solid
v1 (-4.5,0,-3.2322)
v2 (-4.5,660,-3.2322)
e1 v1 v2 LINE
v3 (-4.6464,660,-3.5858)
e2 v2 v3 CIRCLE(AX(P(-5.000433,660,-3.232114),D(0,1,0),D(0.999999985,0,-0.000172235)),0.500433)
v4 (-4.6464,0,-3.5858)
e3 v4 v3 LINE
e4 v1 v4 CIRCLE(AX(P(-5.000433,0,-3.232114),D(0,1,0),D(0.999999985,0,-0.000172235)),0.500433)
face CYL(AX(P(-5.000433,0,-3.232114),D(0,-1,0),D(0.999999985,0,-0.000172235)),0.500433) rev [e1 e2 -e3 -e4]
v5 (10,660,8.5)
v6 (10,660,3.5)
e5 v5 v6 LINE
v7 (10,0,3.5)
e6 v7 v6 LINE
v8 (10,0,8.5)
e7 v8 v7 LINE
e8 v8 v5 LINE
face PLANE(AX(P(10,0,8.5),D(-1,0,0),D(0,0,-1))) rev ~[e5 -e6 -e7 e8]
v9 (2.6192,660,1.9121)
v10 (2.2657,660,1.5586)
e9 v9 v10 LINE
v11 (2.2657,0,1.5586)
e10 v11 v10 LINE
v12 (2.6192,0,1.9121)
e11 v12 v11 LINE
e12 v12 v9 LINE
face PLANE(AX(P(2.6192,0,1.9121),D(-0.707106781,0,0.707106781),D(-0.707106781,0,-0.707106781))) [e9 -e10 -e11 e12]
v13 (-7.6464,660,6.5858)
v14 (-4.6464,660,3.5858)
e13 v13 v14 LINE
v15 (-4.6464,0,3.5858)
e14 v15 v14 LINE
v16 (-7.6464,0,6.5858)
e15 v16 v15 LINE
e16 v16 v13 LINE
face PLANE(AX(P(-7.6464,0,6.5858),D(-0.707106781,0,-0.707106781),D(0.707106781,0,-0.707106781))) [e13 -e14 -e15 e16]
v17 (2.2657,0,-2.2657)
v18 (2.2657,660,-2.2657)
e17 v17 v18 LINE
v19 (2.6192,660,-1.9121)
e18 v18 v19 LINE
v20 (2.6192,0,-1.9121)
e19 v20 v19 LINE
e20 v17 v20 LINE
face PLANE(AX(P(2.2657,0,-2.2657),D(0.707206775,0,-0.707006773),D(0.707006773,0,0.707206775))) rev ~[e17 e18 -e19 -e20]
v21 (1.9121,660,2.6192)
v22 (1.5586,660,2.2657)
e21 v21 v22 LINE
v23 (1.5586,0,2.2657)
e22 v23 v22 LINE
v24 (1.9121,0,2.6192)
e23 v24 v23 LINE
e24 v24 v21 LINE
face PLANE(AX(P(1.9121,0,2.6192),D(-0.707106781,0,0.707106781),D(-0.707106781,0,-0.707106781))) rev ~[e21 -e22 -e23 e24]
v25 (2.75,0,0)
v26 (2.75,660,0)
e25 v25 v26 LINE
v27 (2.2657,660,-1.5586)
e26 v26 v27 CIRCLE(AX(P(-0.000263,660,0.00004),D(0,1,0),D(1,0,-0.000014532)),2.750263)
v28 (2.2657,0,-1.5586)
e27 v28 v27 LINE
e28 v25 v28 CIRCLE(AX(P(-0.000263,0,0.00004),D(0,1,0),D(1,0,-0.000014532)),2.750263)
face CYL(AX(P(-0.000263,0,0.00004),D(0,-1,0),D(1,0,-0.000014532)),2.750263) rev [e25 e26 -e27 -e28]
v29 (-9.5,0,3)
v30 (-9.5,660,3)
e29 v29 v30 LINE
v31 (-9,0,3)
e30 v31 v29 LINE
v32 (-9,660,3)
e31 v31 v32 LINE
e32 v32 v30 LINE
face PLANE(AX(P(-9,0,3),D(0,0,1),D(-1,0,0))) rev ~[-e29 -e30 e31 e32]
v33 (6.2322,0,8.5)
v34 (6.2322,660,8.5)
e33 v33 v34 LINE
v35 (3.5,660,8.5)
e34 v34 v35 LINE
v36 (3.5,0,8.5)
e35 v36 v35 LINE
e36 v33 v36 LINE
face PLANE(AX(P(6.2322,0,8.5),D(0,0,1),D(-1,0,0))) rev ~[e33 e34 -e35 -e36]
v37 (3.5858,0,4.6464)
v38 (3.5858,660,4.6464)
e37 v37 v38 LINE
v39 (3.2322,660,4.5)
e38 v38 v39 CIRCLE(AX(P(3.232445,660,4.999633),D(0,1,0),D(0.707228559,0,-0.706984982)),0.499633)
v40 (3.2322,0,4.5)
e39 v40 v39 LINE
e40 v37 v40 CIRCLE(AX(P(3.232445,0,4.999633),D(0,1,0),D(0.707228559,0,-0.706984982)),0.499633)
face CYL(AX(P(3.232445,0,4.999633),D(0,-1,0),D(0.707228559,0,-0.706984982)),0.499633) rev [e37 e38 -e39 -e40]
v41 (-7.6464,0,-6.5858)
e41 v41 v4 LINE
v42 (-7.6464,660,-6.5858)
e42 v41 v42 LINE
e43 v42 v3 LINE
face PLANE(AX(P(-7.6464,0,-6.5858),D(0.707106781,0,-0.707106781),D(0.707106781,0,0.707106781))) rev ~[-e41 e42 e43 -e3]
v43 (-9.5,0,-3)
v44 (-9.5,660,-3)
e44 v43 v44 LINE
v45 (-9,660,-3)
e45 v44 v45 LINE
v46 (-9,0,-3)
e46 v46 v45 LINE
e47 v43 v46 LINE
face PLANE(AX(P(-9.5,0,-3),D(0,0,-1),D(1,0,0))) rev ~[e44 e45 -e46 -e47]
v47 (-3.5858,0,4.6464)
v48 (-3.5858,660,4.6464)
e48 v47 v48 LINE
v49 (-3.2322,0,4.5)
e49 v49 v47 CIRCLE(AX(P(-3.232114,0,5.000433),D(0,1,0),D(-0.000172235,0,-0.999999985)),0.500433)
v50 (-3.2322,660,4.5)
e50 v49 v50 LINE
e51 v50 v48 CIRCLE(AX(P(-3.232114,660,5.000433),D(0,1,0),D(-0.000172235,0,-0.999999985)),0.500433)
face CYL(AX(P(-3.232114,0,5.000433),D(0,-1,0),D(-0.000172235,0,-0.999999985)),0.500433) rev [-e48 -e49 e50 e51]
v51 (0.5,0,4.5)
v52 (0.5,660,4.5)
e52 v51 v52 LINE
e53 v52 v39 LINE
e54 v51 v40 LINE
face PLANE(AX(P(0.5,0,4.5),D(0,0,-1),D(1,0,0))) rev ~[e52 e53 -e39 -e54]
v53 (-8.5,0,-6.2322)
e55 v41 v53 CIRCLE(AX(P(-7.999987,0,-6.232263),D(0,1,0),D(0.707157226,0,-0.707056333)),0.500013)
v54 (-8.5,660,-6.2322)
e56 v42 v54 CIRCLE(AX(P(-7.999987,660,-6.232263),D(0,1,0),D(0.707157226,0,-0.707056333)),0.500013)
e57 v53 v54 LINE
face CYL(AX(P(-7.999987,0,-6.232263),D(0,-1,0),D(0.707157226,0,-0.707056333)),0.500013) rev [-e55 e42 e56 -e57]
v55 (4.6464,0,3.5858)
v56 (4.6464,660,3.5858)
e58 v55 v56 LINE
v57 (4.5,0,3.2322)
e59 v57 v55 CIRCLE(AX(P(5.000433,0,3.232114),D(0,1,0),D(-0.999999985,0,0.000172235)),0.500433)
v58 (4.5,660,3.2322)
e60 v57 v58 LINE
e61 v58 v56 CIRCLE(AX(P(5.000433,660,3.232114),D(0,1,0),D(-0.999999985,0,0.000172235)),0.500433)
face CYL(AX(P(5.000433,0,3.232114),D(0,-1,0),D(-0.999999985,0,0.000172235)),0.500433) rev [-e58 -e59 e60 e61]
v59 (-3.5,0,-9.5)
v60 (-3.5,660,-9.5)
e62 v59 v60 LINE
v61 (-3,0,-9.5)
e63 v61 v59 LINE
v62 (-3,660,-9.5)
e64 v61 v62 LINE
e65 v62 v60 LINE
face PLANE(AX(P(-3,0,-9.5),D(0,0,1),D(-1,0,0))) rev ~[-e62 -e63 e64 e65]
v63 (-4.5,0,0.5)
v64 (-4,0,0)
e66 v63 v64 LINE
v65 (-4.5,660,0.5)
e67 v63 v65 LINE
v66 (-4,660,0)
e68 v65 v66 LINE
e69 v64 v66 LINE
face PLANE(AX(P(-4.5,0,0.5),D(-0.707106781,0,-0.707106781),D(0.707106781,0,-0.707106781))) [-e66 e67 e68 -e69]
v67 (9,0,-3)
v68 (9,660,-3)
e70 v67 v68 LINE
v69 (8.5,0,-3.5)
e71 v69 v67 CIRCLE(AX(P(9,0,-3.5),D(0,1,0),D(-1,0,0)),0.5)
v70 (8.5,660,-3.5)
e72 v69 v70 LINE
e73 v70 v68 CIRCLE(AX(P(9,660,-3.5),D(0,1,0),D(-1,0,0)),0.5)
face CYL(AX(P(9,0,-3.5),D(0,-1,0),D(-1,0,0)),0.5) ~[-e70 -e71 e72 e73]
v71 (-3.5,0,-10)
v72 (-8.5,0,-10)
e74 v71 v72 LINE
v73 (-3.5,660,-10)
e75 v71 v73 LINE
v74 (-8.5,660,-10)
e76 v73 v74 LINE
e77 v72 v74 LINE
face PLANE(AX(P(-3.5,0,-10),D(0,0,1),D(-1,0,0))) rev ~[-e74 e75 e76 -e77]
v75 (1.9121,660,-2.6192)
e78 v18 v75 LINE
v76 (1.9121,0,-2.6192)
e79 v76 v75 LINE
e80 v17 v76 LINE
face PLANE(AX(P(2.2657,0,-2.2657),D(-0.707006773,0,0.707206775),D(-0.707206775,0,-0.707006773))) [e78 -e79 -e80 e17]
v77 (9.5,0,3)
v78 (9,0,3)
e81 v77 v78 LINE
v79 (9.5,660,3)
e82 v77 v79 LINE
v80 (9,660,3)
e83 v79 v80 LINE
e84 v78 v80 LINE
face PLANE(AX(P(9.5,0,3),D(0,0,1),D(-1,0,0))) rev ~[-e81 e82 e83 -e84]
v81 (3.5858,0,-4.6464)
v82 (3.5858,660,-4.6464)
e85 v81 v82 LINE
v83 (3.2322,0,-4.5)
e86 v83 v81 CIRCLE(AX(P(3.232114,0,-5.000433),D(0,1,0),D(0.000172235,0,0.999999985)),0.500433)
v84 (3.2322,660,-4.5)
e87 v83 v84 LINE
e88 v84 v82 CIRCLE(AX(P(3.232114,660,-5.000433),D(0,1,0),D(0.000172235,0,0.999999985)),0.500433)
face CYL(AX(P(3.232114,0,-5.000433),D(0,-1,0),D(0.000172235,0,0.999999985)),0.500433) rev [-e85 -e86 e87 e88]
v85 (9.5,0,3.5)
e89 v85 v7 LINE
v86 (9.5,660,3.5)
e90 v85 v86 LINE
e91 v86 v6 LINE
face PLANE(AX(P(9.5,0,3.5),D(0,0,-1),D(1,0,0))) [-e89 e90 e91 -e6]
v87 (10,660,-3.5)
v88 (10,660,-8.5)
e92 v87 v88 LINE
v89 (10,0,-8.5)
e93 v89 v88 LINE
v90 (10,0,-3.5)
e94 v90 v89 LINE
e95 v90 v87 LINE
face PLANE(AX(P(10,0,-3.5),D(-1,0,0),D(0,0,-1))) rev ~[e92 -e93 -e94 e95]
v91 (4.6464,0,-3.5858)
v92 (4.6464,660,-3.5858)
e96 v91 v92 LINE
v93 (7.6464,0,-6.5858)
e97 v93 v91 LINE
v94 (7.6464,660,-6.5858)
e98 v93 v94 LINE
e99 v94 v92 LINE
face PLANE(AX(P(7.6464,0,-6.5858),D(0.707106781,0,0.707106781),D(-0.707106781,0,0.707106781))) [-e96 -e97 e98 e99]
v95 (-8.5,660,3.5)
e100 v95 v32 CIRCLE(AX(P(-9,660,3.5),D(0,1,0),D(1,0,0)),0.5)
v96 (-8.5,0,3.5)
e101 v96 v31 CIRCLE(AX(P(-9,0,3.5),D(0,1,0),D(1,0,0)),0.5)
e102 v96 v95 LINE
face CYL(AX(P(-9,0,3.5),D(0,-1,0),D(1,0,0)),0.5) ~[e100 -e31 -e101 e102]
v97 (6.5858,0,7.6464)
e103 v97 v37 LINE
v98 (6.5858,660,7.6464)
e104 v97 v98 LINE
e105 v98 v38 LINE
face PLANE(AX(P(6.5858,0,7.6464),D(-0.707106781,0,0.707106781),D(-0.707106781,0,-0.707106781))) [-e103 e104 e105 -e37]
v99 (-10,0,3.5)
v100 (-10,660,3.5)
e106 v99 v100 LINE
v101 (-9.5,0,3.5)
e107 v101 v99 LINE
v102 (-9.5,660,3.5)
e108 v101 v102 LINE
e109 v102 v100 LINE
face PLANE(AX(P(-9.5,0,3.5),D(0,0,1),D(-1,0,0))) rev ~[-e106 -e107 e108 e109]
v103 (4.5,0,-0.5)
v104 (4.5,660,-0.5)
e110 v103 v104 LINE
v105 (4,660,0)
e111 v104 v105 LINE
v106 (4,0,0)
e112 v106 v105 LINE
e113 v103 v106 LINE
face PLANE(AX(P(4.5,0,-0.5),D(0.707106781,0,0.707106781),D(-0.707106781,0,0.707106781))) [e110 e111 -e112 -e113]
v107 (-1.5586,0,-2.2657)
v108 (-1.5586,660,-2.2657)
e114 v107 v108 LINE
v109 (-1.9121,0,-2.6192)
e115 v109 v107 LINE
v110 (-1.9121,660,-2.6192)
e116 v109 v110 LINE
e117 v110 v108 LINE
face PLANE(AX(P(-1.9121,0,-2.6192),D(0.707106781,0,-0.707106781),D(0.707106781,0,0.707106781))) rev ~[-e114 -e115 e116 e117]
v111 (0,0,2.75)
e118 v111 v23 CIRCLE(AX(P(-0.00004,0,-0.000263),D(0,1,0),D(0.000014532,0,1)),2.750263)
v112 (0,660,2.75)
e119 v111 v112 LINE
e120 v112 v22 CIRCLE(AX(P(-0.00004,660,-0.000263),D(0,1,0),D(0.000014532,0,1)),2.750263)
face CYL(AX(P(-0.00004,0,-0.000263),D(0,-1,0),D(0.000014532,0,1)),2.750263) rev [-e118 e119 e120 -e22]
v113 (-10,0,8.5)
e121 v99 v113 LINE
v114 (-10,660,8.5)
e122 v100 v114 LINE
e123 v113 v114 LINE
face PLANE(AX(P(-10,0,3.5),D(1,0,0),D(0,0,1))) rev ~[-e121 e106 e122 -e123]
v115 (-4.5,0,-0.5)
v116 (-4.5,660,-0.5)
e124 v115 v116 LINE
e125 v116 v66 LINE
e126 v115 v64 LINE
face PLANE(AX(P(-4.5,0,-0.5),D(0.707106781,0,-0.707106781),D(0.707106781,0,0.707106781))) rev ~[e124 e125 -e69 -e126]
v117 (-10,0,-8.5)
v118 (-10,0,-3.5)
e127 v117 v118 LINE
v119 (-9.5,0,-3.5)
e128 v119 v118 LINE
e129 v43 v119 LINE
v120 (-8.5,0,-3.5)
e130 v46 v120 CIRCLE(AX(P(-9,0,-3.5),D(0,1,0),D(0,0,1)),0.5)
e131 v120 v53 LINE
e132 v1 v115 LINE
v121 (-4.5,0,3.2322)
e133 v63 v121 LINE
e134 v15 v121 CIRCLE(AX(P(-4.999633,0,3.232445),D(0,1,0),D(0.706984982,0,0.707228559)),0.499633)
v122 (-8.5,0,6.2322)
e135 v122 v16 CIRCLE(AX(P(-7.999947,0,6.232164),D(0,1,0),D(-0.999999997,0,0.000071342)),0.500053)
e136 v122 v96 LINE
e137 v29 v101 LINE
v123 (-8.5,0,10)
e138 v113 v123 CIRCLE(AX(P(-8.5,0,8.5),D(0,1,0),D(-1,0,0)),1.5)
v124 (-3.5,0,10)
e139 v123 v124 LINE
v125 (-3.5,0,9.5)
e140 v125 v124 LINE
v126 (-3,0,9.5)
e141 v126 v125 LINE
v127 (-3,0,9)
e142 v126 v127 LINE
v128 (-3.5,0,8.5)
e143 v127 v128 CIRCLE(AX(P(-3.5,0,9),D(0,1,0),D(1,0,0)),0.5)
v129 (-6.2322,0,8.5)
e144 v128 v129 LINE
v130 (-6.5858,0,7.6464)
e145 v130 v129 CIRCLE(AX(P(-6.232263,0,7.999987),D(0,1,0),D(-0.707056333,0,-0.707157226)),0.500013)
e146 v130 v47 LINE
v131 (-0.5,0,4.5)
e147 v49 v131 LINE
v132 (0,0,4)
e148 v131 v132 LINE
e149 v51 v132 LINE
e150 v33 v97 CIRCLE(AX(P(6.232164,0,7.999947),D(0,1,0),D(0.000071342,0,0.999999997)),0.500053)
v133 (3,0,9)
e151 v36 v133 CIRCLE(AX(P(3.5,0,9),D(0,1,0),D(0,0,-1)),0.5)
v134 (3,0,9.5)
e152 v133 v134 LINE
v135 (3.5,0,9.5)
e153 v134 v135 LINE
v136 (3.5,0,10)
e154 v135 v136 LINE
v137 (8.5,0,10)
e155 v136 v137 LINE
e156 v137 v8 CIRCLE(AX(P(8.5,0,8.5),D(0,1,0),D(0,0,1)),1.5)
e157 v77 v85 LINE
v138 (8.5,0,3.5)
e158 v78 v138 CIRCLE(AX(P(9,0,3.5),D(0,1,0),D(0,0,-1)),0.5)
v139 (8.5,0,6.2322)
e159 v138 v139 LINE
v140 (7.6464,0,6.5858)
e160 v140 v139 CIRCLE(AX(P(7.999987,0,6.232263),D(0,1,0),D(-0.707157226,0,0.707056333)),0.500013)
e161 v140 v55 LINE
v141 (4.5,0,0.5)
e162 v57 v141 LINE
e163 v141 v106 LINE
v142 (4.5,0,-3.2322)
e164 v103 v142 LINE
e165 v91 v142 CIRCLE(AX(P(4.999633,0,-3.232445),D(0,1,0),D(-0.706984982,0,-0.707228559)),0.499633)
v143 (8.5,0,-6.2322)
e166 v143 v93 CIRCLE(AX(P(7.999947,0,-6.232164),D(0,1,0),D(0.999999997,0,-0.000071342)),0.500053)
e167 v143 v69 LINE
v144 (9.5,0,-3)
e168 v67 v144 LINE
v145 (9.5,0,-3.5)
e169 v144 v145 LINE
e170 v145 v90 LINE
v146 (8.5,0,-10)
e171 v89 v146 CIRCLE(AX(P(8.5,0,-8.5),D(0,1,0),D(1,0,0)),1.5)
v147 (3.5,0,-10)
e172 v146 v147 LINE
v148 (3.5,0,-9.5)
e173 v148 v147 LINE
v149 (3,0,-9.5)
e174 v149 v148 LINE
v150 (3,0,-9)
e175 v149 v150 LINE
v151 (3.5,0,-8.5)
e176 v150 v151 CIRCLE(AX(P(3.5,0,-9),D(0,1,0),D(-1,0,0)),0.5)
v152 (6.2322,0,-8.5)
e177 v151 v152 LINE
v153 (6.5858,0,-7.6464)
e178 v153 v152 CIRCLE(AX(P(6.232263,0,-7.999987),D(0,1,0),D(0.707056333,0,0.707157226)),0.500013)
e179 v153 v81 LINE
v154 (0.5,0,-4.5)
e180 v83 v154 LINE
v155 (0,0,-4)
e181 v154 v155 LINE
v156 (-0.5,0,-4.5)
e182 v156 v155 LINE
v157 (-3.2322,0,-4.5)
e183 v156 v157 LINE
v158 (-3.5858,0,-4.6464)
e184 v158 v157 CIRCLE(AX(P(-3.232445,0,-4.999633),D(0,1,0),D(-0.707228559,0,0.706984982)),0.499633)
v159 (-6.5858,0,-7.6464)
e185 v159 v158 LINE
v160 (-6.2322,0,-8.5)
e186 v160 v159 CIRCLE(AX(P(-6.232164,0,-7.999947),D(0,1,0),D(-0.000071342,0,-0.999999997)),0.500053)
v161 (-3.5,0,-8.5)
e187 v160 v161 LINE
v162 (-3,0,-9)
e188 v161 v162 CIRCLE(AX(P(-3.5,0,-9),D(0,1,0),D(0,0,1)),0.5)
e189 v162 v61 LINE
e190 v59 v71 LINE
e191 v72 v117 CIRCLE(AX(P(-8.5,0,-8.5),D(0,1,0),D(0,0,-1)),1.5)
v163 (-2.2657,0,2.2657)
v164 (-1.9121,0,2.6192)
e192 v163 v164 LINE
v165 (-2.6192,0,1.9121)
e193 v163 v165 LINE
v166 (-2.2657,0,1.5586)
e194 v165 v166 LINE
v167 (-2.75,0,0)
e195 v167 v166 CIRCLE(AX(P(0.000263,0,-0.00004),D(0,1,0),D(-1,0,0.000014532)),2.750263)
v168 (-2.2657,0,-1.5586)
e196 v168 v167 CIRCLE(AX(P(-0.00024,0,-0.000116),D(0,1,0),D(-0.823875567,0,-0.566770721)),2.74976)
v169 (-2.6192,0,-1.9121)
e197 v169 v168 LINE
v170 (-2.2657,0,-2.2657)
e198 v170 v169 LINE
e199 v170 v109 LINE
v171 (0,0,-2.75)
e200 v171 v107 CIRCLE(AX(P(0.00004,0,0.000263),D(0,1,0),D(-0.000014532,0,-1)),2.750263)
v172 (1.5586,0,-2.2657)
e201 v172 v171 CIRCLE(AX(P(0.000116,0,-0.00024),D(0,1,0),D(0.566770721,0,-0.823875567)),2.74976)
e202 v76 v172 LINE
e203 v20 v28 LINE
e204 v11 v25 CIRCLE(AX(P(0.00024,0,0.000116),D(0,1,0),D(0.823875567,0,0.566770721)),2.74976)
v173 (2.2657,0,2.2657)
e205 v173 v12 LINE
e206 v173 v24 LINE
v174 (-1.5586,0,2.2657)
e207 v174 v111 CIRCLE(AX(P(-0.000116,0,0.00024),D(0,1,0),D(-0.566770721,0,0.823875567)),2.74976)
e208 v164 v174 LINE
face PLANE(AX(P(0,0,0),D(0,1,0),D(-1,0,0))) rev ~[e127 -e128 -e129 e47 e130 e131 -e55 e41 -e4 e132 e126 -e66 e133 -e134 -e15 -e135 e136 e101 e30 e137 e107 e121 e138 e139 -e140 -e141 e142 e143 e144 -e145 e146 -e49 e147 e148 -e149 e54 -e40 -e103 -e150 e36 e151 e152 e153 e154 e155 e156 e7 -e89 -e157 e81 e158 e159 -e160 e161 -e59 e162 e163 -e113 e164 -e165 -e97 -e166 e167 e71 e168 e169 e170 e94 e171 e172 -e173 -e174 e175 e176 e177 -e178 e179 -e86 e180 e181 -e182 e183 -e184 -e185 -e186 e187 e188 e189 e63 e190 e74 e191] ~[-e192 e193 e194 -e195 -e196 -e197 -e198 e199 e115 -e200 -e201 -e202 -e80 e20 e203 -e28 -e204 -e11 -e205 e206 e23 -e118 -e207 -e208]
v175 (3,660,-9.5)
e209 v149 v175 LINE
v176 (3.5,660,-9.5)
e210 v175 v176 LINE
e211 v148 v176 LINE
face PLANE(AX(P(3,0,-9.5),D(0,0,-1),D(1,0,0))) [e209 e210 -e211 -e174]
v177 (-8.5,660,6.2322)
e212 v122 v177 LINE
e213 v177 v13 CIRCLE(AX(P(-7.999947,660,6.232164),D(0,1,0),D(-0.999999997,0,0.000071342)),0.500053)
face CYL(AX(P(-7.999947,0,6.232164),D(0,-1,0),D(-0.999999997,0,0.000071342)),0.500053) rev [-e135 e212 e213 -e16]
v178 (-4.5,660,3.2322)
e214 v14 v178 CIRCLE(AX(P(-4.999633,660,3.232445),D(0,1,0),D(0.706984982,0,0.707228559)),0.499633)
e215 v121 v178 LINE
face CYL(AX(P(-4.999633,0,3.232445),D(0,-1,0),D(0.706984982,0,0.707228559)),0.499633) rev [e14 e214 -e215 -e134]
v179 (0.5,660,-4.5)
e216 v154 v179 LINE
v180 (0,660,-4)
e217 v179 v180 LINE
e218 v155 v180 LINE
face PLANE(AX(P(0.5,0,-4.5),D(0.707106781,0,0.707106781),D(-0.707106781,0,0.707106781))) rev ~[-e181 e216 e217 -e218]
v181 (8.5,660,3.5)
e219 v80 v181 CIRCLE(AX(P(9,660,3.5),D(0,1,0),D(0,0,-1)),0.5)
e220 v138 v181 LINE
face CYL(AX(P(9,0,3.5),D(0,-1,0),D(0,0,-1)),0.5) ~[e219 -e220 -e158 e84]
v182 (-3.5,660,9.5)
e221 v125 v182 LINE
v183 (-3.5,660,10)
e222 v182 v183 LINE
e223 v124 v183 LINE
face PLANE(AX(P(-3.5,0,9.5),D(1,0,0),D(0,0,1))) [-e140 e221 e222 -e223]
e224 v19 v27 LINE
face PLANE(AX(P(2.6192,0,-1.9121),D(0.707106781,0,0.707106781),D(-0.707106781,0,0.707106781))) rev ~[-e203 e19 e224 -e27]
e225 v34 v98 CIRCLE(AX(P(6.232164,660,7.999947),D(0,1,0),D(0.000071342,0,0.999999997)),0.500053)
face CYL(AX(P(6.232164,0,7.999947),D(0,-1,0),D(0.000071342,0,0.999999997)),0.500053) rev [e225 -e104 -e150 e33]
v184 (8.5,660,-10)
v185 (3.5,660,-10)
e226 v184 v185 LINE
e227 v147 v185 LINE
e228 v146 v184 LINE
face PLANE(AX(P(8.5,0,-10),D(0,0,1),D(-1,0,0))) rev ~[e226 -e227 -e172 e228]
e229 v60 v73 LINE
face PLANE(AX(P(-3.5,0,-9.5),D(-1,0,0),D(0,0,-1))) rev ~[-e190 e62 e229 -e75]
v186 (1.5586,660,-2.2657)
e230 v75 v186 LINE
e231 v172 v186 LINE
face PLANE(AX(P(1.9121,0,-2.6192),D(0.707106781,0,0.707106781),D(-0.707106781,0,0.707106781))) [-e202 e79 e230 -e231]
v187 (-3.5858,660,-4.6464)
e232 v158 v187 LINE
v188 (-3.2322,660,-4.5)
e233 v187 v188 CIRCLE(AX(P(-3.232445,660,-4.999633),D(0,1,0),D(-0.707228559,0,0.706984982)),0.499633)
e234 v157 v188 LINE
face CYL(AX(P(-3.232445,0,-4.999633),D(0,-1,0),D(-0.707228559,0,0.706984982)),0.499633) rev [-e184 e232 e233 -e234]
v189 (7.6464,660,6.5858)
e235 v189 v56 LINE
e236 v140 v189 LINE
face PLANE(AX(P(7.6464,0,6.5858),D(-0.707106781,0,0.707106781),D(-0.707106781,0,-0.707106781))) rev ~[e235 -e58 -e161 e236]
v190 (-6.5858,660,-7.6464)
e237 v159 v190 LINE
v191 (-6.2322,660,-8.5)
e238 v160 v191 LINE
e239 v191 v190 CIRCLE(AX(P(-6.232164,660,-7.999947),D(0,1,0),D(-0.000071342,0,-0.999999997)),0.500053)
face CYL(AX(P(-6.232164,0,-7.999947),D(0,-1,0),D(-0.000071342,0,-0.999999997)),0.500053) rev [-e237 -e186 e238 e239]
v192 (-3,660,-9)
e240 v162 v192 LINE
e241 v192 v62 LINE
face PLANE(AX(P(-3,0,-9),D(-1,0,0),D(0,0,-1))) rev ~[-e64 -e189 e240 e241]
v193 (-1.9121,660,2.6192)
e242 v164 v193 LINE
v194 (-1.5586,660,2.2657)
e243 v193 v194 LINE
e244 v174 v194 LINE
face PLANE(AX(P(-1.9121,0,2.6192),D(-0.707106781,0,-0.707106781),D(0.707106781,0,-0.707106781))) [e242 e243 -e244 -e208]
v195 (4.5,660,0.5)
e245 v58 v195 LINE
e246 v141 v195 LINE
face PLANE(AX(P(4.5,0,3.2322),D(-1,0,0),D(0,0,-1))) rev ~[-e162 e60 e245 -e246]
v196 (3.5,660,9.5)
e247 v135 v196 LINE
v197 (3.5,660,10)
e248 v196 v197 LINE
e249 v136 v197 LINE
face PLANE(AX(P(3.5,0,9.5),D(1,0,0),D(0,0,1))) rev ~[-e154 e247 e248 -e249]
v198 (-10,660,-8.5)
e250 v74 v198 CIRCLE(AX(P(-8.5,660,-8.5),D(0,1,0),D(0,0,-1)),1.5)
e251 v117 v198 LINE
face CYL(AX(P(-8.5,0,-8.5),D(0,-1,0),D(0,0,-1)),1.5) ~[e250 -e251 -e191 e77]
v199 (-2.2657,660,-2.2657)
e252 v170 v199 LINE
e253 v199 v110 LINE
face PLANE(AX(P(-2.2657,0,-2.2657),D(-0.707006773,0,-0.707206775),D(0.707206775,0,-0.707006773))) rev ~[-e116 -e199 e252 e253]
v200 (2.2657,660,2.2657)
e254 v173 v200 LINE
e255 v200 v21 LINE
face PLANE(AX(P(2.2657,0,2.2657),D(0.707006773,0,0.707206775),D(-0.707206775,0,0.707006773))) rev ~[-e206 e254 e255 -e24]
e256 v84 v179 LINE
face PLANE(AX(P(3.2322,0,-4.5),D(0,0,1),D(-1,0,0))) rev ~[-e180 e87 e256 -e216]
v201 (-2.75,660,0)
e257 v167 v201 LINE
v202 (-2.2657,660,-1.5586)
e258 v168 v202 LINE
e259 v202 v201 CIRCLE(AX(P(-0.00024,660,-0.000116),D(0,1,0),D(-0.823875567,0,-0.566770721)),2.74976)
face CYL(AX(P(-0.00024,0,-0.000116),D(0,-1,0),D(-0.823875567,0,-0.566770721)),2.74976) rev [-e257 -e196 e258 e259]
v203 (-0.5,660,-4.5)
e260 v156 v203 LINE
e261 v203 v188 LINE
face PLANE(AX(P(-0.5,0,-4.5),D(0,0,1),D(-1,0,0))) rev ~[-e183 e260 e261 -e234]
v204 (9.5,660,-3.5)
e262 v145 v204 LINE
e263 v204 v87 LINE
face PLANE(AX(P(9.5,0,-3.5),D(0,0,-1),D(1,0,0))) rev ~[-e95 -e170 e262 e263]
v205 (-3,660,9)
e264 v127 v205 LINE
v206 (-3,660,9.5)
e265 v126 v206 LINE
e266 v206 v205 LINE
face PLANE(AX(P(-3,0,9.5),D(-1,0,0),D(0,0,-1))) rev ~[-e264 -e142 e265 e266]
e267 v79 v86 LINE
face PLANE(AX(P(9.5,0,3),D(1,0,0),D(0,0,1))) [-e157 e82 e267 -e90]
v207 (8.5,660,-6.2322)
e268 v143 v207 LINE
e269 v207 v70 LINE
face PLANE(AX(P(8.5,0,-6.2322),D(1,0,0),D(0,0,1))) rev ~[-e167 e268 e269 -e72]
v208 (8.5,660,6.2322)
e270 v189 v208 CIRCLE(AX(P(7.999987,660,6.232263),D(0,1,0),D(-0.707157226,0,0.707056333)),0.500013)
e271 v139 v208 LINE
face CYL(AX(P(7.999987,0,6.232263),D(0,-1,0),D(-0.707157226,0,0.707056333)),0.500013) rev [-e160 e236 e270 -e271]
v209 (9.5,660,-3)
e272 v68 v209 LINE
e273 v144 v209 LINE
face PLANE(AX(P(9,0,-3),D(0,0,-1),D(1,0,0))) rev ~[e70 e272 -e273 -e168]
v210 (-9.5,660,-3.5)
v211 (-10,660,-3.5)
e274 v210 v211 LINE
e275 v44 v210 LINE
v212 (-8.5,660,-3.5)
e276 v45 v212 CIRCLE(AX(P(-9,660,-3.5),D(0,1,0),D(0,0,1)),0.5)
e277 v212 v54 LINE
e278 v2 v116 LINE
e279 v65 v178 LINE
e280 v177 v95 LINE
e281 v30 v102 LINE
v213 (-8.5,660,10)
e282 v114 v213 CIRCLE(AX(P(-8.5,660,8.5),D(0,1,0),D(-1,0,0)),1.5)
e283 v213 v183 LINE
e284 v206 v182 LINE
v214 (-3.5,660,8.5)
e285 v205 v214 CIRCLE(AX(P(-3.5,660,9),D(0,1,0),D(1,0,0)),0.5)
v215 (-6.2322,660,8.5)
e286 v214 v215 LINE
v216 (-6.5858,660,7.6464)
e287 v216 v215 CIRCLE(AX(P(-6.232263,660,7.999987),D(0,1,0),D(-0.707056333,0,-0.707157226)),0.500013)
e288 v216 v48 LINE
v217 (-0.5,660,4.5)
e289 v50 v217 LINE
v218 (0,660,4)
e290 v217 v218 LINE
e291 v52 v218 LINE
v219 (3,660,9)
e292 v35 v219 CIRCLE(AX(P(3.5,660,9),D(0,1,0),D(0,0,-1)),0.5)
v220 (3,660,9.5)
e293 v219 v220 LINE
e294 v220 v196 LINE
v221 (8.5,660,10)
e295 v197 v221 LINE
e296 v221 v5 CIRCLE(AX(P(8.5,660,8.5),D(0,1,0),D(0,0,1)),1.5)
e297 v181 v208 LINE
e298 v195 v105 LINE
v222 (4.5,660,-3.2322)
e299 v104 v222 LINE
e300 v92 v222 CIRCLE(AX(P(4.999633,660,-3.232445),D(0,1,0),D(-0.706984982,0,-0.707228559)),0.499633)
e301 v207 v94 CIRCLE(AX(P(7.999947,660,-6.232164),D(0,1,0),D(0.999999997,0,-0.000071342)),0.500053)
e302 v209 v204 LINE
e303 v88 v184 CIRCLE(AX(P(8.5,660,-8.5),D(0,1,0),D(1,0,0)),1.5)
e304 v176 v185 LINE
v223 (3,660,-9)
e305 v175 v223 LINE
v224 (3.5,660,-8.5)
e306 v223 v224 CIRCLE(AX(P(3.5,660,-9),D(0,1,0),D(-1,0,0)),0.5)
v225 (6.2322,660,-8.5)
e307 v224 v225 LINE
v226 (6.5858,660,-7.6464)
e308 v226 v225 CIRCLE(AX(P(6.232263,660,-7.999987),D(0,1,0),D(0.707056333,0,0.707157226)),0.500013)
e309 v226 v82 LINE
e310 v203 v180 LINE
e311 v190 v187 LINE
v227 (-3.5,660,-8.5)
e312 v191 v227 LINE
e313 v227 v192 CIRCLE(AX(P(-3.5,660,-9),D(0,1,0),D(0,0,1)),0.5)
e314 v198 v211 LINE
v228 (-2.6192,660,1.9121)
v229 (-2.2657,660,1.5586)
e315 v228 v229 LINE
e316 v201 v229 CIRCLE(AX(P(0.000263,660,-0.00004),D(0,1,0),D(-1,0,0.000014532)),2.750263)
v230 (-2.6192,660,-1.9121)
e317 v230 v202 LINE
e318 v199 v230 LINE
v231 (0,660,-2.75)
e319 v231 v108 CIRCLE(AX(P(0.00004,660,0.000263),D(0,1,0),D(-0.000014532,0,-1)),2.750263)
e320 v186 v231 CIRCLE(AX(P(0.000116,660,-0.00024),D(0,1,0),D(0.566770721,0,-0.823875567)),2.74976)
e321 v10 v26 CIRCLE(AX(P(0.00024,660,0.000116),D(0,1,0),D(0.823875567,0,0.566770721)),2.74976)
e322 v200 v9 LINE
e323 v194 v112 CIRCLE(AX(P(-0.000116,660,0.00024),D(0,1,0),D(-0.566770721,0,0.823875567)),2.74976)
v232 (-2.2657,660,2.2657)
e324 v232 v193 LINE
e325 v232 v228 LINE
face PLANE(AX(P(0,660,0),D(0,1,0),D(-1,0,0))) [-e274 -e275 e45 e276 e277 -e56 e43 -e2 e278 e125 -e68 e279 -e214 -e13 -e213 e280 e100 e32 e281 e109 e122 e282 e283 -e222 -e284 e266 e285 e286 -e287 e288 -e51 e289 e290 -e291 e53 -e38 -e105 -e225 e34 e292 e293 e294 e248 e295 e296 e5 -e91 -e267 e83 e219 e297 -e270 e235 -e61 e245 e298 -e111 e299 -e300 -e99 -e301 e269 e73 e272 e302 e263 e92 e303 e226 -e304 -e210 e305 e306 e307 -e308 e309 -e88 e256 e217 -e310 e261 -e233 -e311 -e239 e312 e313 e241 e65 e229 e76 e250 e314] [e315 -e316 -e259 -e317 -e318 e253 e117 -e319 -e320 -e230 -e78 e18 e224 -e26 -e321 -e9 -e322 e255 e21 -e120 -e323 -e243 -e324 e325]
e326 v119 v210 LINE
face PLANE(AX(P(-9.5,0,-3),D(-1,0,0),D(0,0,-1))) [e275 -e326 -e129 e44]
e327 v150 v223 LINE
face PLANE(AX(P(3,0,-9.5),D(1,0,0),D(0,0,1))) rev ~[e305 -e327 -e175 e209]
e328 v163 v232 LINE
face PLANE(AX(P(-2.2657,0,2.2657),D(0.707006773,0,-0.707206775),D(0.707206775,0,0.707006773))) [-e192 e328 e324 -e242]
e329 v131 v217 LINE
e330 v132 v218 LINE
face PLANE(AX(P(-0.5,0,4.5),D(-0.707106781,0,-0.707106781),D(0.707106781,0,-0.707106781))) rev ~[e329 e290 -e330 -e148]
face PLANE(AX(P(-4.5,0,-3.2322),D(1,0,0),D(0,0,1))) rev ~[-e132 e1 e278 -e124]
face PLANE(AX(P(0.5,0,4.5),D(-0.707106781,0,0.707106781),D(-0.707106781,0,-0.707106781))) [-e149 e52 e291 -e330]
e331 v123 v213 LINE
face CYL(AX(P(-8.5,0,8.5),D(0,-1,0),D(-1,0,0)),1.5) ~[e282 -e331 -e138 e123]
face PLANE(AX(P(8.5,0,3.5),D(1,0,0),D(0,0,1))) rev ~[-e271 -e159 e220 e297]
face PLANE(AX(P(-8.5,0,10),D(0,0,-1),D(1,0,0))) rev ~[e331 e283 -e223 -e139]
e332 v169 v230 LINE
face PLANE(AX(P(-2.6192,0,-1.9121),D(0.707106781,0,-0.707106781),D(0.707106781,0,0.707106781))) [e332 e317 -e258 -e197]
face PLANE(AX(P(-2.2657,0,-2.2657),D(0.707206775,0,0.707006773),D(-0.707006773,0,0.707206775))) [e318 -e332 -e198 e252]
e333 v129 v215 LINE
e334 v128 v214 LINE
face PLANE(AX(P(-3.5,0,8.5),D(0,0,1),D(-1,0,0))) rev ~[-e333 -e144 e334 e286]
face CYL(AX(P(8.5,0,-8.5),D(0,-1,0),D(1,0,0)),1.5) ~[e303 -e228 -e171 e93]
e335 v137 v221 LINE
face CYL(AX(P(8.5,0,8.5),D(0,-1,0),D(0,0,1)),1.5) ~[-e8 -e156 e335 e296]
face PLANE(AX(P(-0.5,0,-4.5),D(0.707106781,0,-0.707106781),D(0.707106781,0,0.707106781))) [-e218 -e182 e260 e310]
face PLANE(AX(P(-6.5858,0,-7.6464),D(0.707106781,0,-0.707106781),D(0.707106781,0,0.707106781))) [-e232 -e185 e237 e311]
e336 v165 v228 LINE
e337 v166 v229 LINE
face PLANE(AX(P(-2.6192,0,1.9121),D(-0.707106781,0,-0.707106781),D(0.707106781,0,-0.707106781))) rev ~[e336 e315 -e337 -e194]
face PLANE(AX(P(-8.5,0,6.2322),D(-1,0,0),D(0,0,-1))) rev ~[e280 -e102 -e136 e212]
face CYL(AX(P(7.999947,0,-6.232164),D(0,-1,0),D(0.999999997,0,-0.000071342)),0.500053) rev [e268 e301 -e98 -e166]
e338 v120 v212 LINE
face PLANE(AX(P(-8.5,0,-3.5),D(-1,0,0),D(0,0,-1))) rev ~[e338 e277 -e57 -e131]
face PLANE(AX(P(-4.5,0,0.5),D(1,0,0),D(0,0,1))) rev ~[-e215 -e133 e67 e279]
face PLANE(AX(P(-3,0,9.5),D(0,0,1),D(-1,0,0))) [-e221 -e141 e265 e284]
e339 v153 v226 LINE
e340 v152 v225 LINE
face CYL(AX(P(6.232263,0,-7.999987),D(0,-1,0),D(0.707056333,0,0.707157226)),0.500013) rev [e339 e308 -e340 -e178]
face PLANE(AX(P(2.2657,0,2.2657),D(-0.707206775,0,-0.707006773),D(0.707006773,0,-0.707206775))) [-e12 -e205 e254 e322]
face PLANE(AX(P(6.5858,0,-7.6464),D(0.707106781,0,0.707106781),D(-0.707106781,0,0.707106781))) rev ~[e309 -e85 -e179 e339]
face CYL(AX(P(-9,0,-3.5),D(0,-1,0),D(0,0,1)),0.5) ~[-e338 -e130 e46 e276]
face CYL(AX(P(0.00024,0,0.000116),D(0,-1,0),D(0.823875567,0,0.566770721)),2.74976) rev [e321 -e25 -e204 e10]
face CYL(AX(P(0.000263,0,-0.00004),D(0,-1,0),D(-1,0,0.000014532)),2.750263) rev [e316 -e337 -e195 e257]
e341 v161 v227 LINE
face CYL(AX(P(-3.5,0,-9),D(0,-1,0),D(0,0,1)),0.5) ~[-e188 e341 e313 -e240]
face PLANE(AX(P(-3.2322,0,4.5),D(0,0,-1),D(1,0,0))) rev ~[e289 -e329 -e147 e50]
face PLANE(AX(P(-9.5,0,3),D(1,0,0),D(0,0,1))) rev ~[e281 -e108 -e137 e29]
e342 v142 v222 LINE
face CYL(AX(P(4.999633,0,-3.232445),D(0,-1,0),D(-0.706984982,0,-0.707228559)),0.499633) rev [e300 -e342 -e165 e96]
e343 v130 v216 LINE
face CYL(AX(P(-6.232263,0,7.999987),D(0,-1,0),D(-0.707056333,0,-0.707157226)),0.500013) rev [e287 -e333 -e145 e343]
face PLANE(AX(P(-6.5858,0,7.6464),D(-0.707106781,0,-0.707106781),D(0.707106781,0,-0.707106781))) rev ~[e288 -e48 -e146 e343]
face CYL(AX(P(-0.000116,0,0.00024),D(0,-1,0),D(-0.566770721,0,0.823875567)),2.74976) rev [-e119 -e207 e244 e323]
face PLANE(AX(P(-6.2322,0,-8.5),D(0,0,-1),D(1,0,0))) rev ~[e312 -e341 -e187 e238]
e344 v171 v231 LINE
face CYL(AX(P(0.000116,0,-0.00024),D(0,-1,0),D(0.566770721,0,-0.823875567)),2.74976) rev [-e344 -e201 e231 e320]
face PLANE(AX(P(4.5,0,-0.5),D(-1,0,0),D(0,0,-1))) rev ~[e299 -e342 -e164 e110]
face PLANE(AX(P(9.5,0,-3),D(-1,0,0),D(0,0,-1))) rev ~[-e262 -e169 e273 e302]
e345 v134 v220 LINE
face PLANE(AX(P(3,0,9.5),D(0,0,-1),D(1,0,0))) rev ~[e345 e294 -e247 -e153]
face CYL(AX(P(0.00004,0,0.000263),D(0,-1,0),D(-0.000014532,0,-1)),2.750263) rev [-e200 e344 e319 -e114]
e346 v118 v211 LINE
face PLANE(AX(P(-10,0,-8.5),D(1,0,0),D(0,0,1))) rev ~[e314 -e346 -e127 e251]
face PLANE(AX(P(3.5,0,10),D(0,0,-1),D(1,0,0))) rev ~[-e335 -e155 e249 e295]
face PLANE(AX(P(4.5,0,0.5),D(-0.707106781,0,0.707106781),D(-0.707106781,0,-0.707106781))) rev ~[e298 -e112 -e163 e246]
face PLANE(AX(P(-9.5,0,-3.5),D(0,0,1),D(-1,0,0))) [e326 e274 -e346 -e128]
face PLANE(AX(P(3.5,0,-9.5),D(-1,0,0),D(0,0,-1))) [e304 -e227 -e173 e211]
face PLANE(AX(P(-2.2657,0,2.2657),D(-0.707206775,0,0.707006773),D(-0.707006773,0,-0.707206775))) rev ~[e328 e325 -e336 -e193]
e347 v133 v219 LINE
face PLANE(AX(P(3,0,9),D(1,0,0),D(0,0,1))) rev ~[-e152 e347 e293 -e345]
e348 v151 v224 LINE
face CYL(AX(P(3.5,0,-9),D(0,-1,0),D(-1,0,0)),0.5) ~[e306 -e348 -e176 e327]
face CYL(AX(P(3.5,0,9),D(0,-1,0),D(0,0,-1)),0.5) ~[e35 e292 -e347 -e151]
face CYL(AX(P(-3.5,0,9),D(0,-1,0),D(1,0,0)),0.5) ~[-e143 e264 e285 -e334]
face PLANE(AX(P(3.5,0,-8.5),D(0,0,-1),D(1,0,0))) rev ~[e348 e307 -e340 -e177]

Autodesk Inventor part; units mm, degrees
ref_plane "YZ Plane" through (0, 0, 0) normal (1, 0, 0) x (0, 1, 0)
ref_plane "Start Plane" through (0, 0, 0) normal (0, 1, 0) x (-1, 0, 0)
ref_plane "End Plane" through (0, 660, 0) normal (0, 1, 0) x (-1, 0, 0)
sketch "Sketch" plane through (0, 0, 0) normal (0, 1, 0) x (-1, 0, 0)
  line L0 (8.5, 10) -> (3.5, 10)
  line L1 (4.5, 0.5) -> (4.5, 3.2322)
  line L2 (3.2322, 4.5) -> (0.5, 4.5)
  line L3 (3, 9.5) -> (3, 9)
  line L4 (3.5, 8.5) -> (6.2322, 8.5)
  line L5 (8.5, 6.2322) -> (8.5, 3.5)
  line L6 (9, 3) -> (9.5, 3)
  line L7 (6.5858, 7.6464) -> (3.5858, 4.6464)
  line L8 (7.6464, 6.5858) -> (4.6464, 3.5858)
  line L9 (10, 10) -> (0, 0) construction
  line L10 (0.5, 4.5) -> (0, 4)
  line L11 (3, 9.5) -> (3.5, 9.5)
  line L12 (3.5, 9.5) -> (3.5, 10)
  line L13 (9.5, 3) -> (9.5, 3.5)
  line L14 (9.5, 3.5) -> (10, 3.5)
  line L15 (10, 3.5) -> (10, 10)
  line L16 (0, 0) -> (10, 0) construction
  line L17 (10, 0) -> (10, 8.5) construction
  line L18 (0, 0) -> (0, 10) construction
  line L19 (0, 10) -> (10, 10) construction
  line L20 (4.5, 0.5) -> (4, 0)
  arc A0 (10, 8.5) -> (8.5, 10) centre (8.5, 8.5) ccw
  arc A1 (3, 9) -> (3.5, 8.5) centre (3.5, 9) ccw
  arc A2 (6.5858, 7.6464) -> (6.2322, 8.5) centre (6.2322, 8) ccw
  arc A3 (8.5, 6.2322) -> (7.6464, 6.5858) centre (8, 6.2322) ccw
  arc A4 (8.5, 3.5) -> (9, 3) centre (9, 3.5) ccw
  arc A5 (4.6464, 3.5858) -> (4.5, 3.2322) centre (5, 3.2322) ccw
  arc A6 (3.2322, 4.5) -> (3.5858, 4.6464) centre (3.2322, 5) ccw
  line L21 (2.2657, 2.2657) -> (1.9121, 2.6192)
  line L22 (2.2657, 2.2657) -> (2.6192, 1.9121)
  line L23 (1.9121, 2.6192) -> (1.5586, 2.2657)
  line L24 (2.6192, 1.9121) -> (2.2657, 1.5586)
  arc A7 (2.75, 0) -> (2.2657, 1.5586) centre (0, 0) ccw
  arc A8 (1.5586, 2.2657) -> (0, 2.75) centre (0, 0) ccw
  line L25 (0, 0) -> (10, 0) construction
  line L26 (10, -10) -> (0, 0) construction
  line L27 (0, 0) -> (0, -10) construction
  line L28 (0, -10) -> (8.5, -10) construction
  line L29 (0.5, -4.5) -> (3.2322, -4.5)
  line L30 (0.5, -4.5) -> (0, -4)
  line L31 (1.9121, -2.6192) -> (1.5586, -2.2657)
  arc A9 (0, -2.75) -> (1.5586, -2.2657) centre (0, 0) ccw
  arc A10 (7.6464, -6.5858) -> (8.5, -6.2322) centre (8, -6.2322) ccw
  line L32 (8.5, -3.5) -> (8.5, -6.2322)
  line L33 (10, -8.5) -> (10, -3.5)
  line L34 (3.5, -10) -> (10, -10)
  line L35 (6.5858, -7.6464) -> (3.5858, -4.6464)
  line L36 (7.6464, -6.5858) -> (4.6464, -3.5858)
  line L37 (10, 0) -> (10, -10) construction
  line L38 (4.5, -3.2322) -> (4.5, -0.5)
  arc A11 (8.5, -10) -> (10, -8.5) centre (8.5, -8.5) ccw
  line L39 (6.2322, -8.5) -> (3.5, -8.5)
  arc A12 (3.5, -8.5) -> (3, -9) centre (3.5, -9) ccw
  arc A13 (6.2322, -8.5) -> (6.5858, -7.6464) centre (6.2322, -8) ccw
  line L40 (3, -9.5) -> (3.5, -9.5)
  line L41 (3.5, -9.5) -> (3.5, -10)
  line L42 (9.5, -3) -> (9, -3)
  line L43 (4.5, -0.5) -> (4, 0)
  line L44 (9.5, -3) -> (9.5, -3.5)
  line L45 (9.5, -3.5) -> (10, -3.5)
  arc A14 (4.5, -3.2322) -> (4.6464, -3.5858) centre (5, -3.2322) ccw
  arc A15 (9, -3) -> (8.5, -3.5) centre (9, -3.5) ccw
  arc A16 (3.5858, -4.6464) -> (3.2322, -4.5) centre (3.2322, -5) ccw
  line L46 (3, -9) -> (3, -9.5)
  line L47 (2.2657, -2.2657) -> (2.6192, -1.9121)
  line L48 (2.2657, -2.2657) -> (1.9121, -2.6192)
  line L49 (2.6192, -1.9121) -> (2.2657, -1.5586)
  arc A17 (2.2657, -1.5586) -> (2.75, 0) centre (0, 0) ccw
  line L50 (0, 0) -> (0, -10) construction
  line L51 (-10, -10) -> (0, 0) construction
  line L52 (0, 0) -> (-10, 0) construction
  line L53 (-10, 0) -> (-10, -8.5) construction
  line L54 (-4.5, -0.5) -> (-4.5, -3.2322)
  line L55 (-4.5, -0.5) -> (-4, 0)
  line L56 (-2.6192, -1.9121) -> (-2.2657, -1.5586)
  arc A18 (-2.75, 0) -> (-2.2657, -1.5586) centre (0, 0) ccw
  arc A19 (-6.5858, -7.6464) -> (-6.2322, -8.5) centre (-6.2322, -8) ccw
  line L57 (-3.5, -8.5) -> (-6.2322, -8.5)
  line L58 (-8.5, -10) -> (-3.5, -10)
  line L59 (-10, -3.5) -> (-10, -10)
  line L60 (-7.6464, -6.5858) -> (-4.6464, -3.5858)
  line L61 (-6.5858, -7.6464) -> (-3.5858, -4.6464)
  line L62 (0, -10) -> (-10, -10) construction
  line L63 (-3.2322, -4.5) -> (-0.5, -4.5)
  arc A20 (-10, -8.5) -> (-8.5, -10) centre (-8.5, -8.5) ccw
  line L64 (-8.5, -6.2322) -> (-8.5, -3.5)
  arc A21 (-8.5, -3.5) -> (-9, -3) centre (-9, -3.5) ccw
  arc A22 (-8.5, -6.2322) -> (-7.6464, -6.5858) centre (-8, -6.2322) ccw
  line L65 (-9.5, -3) -> (-9.5, -3.5)
  line L66 (-9.5, -3.5) -> (-10, -3.5)
  line L67 (-3, -9.5) -> (-3, -9)
  line L68 (-0.5, -4.5) -> (0, -4)
  line L69 (-3, -9.5) -> (-3.5, -9.5)
  line L70 (-3.5, -9.5) -> (-3.5, -10)
  arc A23 (-3.2322, -4.5) -> (-3.5858, -4.6464) centre (-3.2322, -5) ccw
  arc A24 (-3, -9) -> (-3.5, -8.5) centre (-3.5, -9) ccw
  arc A25 (-4.6464, -3.5858) -> (-4.5, -3.2322) centre (-5, -3.2322) ccw
  line L71 (-9, -3) -> (-9.5, -3)
  line L72 (-2.2657, -2.2657) -> (-1.9121, -2.6192)
  line L73 (-2.2657, -2.2657) -> (-2.6192, -1.9121)
  line L74 (-1.9121, -2.6192) -> (-1.5586, -2.2657)
  arc A26 (-1.5586, -2.2657) -> (0, -2.75) centre (0, 0) ccw
  line L75 (0, 0) -> (-10, 0) construction
  line L76 (-10, 10) -> (0, 0) construction
  line L77 (0, 0) -> (0, 10) construction
  line L78 (0, 10) -> (-8.5, 10) construction
  line L79 (-0.5, 4.5) -> (-3.2322, 4.5)
  line L80 (-0.5, 4.5) -> (0, 4)
  line L81 (-1.9121, 2.6192) -> (-1.5586, 2.2657)
  arc A27 (0, 2.75) -> (-1.5586, 2.2657) centre (0, 0) ccw
  arc A28 (-7.6464, 6.5858) -> (-8.5, 6.2322) centre (-8, 6.2322) ccw
  line L82 (-8.5, 3.5) -> (-8.5, 6.2322)
  line L83 (-10, 8.5) -> (-10, 3.5)
  line L84 (-3.5, 10) -> (-10, 10)
  line L85 (-6.5858, 7.6464) -> (-3.5858, 4.6464)
  line L86 (-7.6464, 6.5858) -> (-4.6464, 3.5858)
  line L87 (-10, 0) -> (-10, 10) construction
  line L88 (-4.5, 3.2322) -> (-4.5, 0.5)
  arc A29 (-8.5, 10) -> (-10, 8.5) centre (-8.5, 8.5) ccw
  line L89 (-6.2322, 8.5) -> (-3.5, 8.5)
  arc A30 (-3.5, 8.5) -> (-3, 9) centre (-3.5, 9) ccw
  arc A31 (-6.2322, 8.5) -> (-6.5858, 7.6464) centre (-6.2322, 8) ccw
  line L90 (-3, 9.5) -> (-3.5, 9.5)
  line L91 (-3.5, 9.5) -> (-3.5, 10)
  line L92 (-9.5, 3) -> (-9, 3)
  line L93 (-4.5, 0.5) -> (-4, 0)
  line L94 (-9.5, 3) -> (-9.5, 3.5)
  line L95 (-9.5, 3.5) -> (-10, 3.5)
  arc A32 (-4.5, 3.2322) -> (-4.6464, 3.5858) centre (-5, 3.2322) ccw
  arc A33 (-9, 3) -> (-8.5, 3.5) centre (-9, 3.5) ccw
  arc A34 (-3.5858, 4.6464) -> (-3.2322, 4.5) centre (-3.2322, 5) ccw
  line L96 (-3, 9) -> (-3, 9.5)
  line L97 (-2.2657, 2.2657) -> (-2.6192, 1.9121)
  line L98 (-2.2657, 2.2657) -> (-1.9121, 2.6192)
  line L99 (-2.6192, 1.9121) -> (-2.2657, 1.5586)
  arc A35 (-2.2657, 1.5586) -> (-2.75, 0) centre (0, 0) ccw
  point P0 (0, 2.75)
  point P1 (-4, 0)
  point P2 (0, -4)
  dimension "d4" = 5.5
  dimension "d5" = 1.5
  dimension "d9" = 1.5
  dimension "d13" = 0.5
  dimension "d14" = 0.5
  dimension "d21" = 0.5
  dimension "d22" = 0.5
  dimension "d23" = 0.5
  dimension "d25" = 1.5
  dimension "d26" = 10
  dimension "d27" = 10
  dimension "d28" = 3
  dimension "d29" = 3
  dimension "d30" = 5.5
  dimension "d31" = 1.5
  dimension "d32" = 0.5
  dimension "d33" = 0.5
  dimension "d34" = 0.5
  dimension "d35" = 0.5
  dimension "d36" = 0.5
  dimension "d37" = 0.5
  dimension "d38" = 0.5
  dimension "d39" = 0.5
  dimension "d40" = 0.5
  dimension "d41" = 2.75
  dimension "d42" = 2.75
  dimension "d43" = 0.5
  dimension "d46" = 360
extrude "Body" add sketch "Sketch" along normal up to surface (660 mm away) from surface at 0
sketch "Sketch2" plane through (0, 0, 0) normal (0, 1, 0) x (-1, 0, 0)
  line L0 (0, 0) -> (10, 0)
ref_plane "Work Plane3" through (0, 0, 0) normal (0, 0, -1) x (-1, 0, 0)
sketch "Sketch3" plane through (0, 0, 0) normal (0, 0, -1) x (-1, 0, 0)
  line L0 (-2, 0) -> (12, 0)
  line L1 (-2, 660) -> (12, 660)
  dimension "d55" = 660
equation "\"d4\" = d30"
equation "\"d13\" = d21"
equation "\"d22\" = d21"
equation "\"d23\" = d21"
equation "\"d25\" = d5"
equation "\"d29\" = d28"
equation "\"d39\" = d38"
equation "\"d42\" = d41"
equation "\"d43\" = d40"
equation "\"d6\" = d5"
equation "\"Length\" = 660"
equation "\"G_OFFSET_START\" = 0"
equation "\"G_OFFSET_END\" = 0"
equation "\"G_L\" = d55"
properties part number "20x20_bosch profile" material "Aluminum 6061"
